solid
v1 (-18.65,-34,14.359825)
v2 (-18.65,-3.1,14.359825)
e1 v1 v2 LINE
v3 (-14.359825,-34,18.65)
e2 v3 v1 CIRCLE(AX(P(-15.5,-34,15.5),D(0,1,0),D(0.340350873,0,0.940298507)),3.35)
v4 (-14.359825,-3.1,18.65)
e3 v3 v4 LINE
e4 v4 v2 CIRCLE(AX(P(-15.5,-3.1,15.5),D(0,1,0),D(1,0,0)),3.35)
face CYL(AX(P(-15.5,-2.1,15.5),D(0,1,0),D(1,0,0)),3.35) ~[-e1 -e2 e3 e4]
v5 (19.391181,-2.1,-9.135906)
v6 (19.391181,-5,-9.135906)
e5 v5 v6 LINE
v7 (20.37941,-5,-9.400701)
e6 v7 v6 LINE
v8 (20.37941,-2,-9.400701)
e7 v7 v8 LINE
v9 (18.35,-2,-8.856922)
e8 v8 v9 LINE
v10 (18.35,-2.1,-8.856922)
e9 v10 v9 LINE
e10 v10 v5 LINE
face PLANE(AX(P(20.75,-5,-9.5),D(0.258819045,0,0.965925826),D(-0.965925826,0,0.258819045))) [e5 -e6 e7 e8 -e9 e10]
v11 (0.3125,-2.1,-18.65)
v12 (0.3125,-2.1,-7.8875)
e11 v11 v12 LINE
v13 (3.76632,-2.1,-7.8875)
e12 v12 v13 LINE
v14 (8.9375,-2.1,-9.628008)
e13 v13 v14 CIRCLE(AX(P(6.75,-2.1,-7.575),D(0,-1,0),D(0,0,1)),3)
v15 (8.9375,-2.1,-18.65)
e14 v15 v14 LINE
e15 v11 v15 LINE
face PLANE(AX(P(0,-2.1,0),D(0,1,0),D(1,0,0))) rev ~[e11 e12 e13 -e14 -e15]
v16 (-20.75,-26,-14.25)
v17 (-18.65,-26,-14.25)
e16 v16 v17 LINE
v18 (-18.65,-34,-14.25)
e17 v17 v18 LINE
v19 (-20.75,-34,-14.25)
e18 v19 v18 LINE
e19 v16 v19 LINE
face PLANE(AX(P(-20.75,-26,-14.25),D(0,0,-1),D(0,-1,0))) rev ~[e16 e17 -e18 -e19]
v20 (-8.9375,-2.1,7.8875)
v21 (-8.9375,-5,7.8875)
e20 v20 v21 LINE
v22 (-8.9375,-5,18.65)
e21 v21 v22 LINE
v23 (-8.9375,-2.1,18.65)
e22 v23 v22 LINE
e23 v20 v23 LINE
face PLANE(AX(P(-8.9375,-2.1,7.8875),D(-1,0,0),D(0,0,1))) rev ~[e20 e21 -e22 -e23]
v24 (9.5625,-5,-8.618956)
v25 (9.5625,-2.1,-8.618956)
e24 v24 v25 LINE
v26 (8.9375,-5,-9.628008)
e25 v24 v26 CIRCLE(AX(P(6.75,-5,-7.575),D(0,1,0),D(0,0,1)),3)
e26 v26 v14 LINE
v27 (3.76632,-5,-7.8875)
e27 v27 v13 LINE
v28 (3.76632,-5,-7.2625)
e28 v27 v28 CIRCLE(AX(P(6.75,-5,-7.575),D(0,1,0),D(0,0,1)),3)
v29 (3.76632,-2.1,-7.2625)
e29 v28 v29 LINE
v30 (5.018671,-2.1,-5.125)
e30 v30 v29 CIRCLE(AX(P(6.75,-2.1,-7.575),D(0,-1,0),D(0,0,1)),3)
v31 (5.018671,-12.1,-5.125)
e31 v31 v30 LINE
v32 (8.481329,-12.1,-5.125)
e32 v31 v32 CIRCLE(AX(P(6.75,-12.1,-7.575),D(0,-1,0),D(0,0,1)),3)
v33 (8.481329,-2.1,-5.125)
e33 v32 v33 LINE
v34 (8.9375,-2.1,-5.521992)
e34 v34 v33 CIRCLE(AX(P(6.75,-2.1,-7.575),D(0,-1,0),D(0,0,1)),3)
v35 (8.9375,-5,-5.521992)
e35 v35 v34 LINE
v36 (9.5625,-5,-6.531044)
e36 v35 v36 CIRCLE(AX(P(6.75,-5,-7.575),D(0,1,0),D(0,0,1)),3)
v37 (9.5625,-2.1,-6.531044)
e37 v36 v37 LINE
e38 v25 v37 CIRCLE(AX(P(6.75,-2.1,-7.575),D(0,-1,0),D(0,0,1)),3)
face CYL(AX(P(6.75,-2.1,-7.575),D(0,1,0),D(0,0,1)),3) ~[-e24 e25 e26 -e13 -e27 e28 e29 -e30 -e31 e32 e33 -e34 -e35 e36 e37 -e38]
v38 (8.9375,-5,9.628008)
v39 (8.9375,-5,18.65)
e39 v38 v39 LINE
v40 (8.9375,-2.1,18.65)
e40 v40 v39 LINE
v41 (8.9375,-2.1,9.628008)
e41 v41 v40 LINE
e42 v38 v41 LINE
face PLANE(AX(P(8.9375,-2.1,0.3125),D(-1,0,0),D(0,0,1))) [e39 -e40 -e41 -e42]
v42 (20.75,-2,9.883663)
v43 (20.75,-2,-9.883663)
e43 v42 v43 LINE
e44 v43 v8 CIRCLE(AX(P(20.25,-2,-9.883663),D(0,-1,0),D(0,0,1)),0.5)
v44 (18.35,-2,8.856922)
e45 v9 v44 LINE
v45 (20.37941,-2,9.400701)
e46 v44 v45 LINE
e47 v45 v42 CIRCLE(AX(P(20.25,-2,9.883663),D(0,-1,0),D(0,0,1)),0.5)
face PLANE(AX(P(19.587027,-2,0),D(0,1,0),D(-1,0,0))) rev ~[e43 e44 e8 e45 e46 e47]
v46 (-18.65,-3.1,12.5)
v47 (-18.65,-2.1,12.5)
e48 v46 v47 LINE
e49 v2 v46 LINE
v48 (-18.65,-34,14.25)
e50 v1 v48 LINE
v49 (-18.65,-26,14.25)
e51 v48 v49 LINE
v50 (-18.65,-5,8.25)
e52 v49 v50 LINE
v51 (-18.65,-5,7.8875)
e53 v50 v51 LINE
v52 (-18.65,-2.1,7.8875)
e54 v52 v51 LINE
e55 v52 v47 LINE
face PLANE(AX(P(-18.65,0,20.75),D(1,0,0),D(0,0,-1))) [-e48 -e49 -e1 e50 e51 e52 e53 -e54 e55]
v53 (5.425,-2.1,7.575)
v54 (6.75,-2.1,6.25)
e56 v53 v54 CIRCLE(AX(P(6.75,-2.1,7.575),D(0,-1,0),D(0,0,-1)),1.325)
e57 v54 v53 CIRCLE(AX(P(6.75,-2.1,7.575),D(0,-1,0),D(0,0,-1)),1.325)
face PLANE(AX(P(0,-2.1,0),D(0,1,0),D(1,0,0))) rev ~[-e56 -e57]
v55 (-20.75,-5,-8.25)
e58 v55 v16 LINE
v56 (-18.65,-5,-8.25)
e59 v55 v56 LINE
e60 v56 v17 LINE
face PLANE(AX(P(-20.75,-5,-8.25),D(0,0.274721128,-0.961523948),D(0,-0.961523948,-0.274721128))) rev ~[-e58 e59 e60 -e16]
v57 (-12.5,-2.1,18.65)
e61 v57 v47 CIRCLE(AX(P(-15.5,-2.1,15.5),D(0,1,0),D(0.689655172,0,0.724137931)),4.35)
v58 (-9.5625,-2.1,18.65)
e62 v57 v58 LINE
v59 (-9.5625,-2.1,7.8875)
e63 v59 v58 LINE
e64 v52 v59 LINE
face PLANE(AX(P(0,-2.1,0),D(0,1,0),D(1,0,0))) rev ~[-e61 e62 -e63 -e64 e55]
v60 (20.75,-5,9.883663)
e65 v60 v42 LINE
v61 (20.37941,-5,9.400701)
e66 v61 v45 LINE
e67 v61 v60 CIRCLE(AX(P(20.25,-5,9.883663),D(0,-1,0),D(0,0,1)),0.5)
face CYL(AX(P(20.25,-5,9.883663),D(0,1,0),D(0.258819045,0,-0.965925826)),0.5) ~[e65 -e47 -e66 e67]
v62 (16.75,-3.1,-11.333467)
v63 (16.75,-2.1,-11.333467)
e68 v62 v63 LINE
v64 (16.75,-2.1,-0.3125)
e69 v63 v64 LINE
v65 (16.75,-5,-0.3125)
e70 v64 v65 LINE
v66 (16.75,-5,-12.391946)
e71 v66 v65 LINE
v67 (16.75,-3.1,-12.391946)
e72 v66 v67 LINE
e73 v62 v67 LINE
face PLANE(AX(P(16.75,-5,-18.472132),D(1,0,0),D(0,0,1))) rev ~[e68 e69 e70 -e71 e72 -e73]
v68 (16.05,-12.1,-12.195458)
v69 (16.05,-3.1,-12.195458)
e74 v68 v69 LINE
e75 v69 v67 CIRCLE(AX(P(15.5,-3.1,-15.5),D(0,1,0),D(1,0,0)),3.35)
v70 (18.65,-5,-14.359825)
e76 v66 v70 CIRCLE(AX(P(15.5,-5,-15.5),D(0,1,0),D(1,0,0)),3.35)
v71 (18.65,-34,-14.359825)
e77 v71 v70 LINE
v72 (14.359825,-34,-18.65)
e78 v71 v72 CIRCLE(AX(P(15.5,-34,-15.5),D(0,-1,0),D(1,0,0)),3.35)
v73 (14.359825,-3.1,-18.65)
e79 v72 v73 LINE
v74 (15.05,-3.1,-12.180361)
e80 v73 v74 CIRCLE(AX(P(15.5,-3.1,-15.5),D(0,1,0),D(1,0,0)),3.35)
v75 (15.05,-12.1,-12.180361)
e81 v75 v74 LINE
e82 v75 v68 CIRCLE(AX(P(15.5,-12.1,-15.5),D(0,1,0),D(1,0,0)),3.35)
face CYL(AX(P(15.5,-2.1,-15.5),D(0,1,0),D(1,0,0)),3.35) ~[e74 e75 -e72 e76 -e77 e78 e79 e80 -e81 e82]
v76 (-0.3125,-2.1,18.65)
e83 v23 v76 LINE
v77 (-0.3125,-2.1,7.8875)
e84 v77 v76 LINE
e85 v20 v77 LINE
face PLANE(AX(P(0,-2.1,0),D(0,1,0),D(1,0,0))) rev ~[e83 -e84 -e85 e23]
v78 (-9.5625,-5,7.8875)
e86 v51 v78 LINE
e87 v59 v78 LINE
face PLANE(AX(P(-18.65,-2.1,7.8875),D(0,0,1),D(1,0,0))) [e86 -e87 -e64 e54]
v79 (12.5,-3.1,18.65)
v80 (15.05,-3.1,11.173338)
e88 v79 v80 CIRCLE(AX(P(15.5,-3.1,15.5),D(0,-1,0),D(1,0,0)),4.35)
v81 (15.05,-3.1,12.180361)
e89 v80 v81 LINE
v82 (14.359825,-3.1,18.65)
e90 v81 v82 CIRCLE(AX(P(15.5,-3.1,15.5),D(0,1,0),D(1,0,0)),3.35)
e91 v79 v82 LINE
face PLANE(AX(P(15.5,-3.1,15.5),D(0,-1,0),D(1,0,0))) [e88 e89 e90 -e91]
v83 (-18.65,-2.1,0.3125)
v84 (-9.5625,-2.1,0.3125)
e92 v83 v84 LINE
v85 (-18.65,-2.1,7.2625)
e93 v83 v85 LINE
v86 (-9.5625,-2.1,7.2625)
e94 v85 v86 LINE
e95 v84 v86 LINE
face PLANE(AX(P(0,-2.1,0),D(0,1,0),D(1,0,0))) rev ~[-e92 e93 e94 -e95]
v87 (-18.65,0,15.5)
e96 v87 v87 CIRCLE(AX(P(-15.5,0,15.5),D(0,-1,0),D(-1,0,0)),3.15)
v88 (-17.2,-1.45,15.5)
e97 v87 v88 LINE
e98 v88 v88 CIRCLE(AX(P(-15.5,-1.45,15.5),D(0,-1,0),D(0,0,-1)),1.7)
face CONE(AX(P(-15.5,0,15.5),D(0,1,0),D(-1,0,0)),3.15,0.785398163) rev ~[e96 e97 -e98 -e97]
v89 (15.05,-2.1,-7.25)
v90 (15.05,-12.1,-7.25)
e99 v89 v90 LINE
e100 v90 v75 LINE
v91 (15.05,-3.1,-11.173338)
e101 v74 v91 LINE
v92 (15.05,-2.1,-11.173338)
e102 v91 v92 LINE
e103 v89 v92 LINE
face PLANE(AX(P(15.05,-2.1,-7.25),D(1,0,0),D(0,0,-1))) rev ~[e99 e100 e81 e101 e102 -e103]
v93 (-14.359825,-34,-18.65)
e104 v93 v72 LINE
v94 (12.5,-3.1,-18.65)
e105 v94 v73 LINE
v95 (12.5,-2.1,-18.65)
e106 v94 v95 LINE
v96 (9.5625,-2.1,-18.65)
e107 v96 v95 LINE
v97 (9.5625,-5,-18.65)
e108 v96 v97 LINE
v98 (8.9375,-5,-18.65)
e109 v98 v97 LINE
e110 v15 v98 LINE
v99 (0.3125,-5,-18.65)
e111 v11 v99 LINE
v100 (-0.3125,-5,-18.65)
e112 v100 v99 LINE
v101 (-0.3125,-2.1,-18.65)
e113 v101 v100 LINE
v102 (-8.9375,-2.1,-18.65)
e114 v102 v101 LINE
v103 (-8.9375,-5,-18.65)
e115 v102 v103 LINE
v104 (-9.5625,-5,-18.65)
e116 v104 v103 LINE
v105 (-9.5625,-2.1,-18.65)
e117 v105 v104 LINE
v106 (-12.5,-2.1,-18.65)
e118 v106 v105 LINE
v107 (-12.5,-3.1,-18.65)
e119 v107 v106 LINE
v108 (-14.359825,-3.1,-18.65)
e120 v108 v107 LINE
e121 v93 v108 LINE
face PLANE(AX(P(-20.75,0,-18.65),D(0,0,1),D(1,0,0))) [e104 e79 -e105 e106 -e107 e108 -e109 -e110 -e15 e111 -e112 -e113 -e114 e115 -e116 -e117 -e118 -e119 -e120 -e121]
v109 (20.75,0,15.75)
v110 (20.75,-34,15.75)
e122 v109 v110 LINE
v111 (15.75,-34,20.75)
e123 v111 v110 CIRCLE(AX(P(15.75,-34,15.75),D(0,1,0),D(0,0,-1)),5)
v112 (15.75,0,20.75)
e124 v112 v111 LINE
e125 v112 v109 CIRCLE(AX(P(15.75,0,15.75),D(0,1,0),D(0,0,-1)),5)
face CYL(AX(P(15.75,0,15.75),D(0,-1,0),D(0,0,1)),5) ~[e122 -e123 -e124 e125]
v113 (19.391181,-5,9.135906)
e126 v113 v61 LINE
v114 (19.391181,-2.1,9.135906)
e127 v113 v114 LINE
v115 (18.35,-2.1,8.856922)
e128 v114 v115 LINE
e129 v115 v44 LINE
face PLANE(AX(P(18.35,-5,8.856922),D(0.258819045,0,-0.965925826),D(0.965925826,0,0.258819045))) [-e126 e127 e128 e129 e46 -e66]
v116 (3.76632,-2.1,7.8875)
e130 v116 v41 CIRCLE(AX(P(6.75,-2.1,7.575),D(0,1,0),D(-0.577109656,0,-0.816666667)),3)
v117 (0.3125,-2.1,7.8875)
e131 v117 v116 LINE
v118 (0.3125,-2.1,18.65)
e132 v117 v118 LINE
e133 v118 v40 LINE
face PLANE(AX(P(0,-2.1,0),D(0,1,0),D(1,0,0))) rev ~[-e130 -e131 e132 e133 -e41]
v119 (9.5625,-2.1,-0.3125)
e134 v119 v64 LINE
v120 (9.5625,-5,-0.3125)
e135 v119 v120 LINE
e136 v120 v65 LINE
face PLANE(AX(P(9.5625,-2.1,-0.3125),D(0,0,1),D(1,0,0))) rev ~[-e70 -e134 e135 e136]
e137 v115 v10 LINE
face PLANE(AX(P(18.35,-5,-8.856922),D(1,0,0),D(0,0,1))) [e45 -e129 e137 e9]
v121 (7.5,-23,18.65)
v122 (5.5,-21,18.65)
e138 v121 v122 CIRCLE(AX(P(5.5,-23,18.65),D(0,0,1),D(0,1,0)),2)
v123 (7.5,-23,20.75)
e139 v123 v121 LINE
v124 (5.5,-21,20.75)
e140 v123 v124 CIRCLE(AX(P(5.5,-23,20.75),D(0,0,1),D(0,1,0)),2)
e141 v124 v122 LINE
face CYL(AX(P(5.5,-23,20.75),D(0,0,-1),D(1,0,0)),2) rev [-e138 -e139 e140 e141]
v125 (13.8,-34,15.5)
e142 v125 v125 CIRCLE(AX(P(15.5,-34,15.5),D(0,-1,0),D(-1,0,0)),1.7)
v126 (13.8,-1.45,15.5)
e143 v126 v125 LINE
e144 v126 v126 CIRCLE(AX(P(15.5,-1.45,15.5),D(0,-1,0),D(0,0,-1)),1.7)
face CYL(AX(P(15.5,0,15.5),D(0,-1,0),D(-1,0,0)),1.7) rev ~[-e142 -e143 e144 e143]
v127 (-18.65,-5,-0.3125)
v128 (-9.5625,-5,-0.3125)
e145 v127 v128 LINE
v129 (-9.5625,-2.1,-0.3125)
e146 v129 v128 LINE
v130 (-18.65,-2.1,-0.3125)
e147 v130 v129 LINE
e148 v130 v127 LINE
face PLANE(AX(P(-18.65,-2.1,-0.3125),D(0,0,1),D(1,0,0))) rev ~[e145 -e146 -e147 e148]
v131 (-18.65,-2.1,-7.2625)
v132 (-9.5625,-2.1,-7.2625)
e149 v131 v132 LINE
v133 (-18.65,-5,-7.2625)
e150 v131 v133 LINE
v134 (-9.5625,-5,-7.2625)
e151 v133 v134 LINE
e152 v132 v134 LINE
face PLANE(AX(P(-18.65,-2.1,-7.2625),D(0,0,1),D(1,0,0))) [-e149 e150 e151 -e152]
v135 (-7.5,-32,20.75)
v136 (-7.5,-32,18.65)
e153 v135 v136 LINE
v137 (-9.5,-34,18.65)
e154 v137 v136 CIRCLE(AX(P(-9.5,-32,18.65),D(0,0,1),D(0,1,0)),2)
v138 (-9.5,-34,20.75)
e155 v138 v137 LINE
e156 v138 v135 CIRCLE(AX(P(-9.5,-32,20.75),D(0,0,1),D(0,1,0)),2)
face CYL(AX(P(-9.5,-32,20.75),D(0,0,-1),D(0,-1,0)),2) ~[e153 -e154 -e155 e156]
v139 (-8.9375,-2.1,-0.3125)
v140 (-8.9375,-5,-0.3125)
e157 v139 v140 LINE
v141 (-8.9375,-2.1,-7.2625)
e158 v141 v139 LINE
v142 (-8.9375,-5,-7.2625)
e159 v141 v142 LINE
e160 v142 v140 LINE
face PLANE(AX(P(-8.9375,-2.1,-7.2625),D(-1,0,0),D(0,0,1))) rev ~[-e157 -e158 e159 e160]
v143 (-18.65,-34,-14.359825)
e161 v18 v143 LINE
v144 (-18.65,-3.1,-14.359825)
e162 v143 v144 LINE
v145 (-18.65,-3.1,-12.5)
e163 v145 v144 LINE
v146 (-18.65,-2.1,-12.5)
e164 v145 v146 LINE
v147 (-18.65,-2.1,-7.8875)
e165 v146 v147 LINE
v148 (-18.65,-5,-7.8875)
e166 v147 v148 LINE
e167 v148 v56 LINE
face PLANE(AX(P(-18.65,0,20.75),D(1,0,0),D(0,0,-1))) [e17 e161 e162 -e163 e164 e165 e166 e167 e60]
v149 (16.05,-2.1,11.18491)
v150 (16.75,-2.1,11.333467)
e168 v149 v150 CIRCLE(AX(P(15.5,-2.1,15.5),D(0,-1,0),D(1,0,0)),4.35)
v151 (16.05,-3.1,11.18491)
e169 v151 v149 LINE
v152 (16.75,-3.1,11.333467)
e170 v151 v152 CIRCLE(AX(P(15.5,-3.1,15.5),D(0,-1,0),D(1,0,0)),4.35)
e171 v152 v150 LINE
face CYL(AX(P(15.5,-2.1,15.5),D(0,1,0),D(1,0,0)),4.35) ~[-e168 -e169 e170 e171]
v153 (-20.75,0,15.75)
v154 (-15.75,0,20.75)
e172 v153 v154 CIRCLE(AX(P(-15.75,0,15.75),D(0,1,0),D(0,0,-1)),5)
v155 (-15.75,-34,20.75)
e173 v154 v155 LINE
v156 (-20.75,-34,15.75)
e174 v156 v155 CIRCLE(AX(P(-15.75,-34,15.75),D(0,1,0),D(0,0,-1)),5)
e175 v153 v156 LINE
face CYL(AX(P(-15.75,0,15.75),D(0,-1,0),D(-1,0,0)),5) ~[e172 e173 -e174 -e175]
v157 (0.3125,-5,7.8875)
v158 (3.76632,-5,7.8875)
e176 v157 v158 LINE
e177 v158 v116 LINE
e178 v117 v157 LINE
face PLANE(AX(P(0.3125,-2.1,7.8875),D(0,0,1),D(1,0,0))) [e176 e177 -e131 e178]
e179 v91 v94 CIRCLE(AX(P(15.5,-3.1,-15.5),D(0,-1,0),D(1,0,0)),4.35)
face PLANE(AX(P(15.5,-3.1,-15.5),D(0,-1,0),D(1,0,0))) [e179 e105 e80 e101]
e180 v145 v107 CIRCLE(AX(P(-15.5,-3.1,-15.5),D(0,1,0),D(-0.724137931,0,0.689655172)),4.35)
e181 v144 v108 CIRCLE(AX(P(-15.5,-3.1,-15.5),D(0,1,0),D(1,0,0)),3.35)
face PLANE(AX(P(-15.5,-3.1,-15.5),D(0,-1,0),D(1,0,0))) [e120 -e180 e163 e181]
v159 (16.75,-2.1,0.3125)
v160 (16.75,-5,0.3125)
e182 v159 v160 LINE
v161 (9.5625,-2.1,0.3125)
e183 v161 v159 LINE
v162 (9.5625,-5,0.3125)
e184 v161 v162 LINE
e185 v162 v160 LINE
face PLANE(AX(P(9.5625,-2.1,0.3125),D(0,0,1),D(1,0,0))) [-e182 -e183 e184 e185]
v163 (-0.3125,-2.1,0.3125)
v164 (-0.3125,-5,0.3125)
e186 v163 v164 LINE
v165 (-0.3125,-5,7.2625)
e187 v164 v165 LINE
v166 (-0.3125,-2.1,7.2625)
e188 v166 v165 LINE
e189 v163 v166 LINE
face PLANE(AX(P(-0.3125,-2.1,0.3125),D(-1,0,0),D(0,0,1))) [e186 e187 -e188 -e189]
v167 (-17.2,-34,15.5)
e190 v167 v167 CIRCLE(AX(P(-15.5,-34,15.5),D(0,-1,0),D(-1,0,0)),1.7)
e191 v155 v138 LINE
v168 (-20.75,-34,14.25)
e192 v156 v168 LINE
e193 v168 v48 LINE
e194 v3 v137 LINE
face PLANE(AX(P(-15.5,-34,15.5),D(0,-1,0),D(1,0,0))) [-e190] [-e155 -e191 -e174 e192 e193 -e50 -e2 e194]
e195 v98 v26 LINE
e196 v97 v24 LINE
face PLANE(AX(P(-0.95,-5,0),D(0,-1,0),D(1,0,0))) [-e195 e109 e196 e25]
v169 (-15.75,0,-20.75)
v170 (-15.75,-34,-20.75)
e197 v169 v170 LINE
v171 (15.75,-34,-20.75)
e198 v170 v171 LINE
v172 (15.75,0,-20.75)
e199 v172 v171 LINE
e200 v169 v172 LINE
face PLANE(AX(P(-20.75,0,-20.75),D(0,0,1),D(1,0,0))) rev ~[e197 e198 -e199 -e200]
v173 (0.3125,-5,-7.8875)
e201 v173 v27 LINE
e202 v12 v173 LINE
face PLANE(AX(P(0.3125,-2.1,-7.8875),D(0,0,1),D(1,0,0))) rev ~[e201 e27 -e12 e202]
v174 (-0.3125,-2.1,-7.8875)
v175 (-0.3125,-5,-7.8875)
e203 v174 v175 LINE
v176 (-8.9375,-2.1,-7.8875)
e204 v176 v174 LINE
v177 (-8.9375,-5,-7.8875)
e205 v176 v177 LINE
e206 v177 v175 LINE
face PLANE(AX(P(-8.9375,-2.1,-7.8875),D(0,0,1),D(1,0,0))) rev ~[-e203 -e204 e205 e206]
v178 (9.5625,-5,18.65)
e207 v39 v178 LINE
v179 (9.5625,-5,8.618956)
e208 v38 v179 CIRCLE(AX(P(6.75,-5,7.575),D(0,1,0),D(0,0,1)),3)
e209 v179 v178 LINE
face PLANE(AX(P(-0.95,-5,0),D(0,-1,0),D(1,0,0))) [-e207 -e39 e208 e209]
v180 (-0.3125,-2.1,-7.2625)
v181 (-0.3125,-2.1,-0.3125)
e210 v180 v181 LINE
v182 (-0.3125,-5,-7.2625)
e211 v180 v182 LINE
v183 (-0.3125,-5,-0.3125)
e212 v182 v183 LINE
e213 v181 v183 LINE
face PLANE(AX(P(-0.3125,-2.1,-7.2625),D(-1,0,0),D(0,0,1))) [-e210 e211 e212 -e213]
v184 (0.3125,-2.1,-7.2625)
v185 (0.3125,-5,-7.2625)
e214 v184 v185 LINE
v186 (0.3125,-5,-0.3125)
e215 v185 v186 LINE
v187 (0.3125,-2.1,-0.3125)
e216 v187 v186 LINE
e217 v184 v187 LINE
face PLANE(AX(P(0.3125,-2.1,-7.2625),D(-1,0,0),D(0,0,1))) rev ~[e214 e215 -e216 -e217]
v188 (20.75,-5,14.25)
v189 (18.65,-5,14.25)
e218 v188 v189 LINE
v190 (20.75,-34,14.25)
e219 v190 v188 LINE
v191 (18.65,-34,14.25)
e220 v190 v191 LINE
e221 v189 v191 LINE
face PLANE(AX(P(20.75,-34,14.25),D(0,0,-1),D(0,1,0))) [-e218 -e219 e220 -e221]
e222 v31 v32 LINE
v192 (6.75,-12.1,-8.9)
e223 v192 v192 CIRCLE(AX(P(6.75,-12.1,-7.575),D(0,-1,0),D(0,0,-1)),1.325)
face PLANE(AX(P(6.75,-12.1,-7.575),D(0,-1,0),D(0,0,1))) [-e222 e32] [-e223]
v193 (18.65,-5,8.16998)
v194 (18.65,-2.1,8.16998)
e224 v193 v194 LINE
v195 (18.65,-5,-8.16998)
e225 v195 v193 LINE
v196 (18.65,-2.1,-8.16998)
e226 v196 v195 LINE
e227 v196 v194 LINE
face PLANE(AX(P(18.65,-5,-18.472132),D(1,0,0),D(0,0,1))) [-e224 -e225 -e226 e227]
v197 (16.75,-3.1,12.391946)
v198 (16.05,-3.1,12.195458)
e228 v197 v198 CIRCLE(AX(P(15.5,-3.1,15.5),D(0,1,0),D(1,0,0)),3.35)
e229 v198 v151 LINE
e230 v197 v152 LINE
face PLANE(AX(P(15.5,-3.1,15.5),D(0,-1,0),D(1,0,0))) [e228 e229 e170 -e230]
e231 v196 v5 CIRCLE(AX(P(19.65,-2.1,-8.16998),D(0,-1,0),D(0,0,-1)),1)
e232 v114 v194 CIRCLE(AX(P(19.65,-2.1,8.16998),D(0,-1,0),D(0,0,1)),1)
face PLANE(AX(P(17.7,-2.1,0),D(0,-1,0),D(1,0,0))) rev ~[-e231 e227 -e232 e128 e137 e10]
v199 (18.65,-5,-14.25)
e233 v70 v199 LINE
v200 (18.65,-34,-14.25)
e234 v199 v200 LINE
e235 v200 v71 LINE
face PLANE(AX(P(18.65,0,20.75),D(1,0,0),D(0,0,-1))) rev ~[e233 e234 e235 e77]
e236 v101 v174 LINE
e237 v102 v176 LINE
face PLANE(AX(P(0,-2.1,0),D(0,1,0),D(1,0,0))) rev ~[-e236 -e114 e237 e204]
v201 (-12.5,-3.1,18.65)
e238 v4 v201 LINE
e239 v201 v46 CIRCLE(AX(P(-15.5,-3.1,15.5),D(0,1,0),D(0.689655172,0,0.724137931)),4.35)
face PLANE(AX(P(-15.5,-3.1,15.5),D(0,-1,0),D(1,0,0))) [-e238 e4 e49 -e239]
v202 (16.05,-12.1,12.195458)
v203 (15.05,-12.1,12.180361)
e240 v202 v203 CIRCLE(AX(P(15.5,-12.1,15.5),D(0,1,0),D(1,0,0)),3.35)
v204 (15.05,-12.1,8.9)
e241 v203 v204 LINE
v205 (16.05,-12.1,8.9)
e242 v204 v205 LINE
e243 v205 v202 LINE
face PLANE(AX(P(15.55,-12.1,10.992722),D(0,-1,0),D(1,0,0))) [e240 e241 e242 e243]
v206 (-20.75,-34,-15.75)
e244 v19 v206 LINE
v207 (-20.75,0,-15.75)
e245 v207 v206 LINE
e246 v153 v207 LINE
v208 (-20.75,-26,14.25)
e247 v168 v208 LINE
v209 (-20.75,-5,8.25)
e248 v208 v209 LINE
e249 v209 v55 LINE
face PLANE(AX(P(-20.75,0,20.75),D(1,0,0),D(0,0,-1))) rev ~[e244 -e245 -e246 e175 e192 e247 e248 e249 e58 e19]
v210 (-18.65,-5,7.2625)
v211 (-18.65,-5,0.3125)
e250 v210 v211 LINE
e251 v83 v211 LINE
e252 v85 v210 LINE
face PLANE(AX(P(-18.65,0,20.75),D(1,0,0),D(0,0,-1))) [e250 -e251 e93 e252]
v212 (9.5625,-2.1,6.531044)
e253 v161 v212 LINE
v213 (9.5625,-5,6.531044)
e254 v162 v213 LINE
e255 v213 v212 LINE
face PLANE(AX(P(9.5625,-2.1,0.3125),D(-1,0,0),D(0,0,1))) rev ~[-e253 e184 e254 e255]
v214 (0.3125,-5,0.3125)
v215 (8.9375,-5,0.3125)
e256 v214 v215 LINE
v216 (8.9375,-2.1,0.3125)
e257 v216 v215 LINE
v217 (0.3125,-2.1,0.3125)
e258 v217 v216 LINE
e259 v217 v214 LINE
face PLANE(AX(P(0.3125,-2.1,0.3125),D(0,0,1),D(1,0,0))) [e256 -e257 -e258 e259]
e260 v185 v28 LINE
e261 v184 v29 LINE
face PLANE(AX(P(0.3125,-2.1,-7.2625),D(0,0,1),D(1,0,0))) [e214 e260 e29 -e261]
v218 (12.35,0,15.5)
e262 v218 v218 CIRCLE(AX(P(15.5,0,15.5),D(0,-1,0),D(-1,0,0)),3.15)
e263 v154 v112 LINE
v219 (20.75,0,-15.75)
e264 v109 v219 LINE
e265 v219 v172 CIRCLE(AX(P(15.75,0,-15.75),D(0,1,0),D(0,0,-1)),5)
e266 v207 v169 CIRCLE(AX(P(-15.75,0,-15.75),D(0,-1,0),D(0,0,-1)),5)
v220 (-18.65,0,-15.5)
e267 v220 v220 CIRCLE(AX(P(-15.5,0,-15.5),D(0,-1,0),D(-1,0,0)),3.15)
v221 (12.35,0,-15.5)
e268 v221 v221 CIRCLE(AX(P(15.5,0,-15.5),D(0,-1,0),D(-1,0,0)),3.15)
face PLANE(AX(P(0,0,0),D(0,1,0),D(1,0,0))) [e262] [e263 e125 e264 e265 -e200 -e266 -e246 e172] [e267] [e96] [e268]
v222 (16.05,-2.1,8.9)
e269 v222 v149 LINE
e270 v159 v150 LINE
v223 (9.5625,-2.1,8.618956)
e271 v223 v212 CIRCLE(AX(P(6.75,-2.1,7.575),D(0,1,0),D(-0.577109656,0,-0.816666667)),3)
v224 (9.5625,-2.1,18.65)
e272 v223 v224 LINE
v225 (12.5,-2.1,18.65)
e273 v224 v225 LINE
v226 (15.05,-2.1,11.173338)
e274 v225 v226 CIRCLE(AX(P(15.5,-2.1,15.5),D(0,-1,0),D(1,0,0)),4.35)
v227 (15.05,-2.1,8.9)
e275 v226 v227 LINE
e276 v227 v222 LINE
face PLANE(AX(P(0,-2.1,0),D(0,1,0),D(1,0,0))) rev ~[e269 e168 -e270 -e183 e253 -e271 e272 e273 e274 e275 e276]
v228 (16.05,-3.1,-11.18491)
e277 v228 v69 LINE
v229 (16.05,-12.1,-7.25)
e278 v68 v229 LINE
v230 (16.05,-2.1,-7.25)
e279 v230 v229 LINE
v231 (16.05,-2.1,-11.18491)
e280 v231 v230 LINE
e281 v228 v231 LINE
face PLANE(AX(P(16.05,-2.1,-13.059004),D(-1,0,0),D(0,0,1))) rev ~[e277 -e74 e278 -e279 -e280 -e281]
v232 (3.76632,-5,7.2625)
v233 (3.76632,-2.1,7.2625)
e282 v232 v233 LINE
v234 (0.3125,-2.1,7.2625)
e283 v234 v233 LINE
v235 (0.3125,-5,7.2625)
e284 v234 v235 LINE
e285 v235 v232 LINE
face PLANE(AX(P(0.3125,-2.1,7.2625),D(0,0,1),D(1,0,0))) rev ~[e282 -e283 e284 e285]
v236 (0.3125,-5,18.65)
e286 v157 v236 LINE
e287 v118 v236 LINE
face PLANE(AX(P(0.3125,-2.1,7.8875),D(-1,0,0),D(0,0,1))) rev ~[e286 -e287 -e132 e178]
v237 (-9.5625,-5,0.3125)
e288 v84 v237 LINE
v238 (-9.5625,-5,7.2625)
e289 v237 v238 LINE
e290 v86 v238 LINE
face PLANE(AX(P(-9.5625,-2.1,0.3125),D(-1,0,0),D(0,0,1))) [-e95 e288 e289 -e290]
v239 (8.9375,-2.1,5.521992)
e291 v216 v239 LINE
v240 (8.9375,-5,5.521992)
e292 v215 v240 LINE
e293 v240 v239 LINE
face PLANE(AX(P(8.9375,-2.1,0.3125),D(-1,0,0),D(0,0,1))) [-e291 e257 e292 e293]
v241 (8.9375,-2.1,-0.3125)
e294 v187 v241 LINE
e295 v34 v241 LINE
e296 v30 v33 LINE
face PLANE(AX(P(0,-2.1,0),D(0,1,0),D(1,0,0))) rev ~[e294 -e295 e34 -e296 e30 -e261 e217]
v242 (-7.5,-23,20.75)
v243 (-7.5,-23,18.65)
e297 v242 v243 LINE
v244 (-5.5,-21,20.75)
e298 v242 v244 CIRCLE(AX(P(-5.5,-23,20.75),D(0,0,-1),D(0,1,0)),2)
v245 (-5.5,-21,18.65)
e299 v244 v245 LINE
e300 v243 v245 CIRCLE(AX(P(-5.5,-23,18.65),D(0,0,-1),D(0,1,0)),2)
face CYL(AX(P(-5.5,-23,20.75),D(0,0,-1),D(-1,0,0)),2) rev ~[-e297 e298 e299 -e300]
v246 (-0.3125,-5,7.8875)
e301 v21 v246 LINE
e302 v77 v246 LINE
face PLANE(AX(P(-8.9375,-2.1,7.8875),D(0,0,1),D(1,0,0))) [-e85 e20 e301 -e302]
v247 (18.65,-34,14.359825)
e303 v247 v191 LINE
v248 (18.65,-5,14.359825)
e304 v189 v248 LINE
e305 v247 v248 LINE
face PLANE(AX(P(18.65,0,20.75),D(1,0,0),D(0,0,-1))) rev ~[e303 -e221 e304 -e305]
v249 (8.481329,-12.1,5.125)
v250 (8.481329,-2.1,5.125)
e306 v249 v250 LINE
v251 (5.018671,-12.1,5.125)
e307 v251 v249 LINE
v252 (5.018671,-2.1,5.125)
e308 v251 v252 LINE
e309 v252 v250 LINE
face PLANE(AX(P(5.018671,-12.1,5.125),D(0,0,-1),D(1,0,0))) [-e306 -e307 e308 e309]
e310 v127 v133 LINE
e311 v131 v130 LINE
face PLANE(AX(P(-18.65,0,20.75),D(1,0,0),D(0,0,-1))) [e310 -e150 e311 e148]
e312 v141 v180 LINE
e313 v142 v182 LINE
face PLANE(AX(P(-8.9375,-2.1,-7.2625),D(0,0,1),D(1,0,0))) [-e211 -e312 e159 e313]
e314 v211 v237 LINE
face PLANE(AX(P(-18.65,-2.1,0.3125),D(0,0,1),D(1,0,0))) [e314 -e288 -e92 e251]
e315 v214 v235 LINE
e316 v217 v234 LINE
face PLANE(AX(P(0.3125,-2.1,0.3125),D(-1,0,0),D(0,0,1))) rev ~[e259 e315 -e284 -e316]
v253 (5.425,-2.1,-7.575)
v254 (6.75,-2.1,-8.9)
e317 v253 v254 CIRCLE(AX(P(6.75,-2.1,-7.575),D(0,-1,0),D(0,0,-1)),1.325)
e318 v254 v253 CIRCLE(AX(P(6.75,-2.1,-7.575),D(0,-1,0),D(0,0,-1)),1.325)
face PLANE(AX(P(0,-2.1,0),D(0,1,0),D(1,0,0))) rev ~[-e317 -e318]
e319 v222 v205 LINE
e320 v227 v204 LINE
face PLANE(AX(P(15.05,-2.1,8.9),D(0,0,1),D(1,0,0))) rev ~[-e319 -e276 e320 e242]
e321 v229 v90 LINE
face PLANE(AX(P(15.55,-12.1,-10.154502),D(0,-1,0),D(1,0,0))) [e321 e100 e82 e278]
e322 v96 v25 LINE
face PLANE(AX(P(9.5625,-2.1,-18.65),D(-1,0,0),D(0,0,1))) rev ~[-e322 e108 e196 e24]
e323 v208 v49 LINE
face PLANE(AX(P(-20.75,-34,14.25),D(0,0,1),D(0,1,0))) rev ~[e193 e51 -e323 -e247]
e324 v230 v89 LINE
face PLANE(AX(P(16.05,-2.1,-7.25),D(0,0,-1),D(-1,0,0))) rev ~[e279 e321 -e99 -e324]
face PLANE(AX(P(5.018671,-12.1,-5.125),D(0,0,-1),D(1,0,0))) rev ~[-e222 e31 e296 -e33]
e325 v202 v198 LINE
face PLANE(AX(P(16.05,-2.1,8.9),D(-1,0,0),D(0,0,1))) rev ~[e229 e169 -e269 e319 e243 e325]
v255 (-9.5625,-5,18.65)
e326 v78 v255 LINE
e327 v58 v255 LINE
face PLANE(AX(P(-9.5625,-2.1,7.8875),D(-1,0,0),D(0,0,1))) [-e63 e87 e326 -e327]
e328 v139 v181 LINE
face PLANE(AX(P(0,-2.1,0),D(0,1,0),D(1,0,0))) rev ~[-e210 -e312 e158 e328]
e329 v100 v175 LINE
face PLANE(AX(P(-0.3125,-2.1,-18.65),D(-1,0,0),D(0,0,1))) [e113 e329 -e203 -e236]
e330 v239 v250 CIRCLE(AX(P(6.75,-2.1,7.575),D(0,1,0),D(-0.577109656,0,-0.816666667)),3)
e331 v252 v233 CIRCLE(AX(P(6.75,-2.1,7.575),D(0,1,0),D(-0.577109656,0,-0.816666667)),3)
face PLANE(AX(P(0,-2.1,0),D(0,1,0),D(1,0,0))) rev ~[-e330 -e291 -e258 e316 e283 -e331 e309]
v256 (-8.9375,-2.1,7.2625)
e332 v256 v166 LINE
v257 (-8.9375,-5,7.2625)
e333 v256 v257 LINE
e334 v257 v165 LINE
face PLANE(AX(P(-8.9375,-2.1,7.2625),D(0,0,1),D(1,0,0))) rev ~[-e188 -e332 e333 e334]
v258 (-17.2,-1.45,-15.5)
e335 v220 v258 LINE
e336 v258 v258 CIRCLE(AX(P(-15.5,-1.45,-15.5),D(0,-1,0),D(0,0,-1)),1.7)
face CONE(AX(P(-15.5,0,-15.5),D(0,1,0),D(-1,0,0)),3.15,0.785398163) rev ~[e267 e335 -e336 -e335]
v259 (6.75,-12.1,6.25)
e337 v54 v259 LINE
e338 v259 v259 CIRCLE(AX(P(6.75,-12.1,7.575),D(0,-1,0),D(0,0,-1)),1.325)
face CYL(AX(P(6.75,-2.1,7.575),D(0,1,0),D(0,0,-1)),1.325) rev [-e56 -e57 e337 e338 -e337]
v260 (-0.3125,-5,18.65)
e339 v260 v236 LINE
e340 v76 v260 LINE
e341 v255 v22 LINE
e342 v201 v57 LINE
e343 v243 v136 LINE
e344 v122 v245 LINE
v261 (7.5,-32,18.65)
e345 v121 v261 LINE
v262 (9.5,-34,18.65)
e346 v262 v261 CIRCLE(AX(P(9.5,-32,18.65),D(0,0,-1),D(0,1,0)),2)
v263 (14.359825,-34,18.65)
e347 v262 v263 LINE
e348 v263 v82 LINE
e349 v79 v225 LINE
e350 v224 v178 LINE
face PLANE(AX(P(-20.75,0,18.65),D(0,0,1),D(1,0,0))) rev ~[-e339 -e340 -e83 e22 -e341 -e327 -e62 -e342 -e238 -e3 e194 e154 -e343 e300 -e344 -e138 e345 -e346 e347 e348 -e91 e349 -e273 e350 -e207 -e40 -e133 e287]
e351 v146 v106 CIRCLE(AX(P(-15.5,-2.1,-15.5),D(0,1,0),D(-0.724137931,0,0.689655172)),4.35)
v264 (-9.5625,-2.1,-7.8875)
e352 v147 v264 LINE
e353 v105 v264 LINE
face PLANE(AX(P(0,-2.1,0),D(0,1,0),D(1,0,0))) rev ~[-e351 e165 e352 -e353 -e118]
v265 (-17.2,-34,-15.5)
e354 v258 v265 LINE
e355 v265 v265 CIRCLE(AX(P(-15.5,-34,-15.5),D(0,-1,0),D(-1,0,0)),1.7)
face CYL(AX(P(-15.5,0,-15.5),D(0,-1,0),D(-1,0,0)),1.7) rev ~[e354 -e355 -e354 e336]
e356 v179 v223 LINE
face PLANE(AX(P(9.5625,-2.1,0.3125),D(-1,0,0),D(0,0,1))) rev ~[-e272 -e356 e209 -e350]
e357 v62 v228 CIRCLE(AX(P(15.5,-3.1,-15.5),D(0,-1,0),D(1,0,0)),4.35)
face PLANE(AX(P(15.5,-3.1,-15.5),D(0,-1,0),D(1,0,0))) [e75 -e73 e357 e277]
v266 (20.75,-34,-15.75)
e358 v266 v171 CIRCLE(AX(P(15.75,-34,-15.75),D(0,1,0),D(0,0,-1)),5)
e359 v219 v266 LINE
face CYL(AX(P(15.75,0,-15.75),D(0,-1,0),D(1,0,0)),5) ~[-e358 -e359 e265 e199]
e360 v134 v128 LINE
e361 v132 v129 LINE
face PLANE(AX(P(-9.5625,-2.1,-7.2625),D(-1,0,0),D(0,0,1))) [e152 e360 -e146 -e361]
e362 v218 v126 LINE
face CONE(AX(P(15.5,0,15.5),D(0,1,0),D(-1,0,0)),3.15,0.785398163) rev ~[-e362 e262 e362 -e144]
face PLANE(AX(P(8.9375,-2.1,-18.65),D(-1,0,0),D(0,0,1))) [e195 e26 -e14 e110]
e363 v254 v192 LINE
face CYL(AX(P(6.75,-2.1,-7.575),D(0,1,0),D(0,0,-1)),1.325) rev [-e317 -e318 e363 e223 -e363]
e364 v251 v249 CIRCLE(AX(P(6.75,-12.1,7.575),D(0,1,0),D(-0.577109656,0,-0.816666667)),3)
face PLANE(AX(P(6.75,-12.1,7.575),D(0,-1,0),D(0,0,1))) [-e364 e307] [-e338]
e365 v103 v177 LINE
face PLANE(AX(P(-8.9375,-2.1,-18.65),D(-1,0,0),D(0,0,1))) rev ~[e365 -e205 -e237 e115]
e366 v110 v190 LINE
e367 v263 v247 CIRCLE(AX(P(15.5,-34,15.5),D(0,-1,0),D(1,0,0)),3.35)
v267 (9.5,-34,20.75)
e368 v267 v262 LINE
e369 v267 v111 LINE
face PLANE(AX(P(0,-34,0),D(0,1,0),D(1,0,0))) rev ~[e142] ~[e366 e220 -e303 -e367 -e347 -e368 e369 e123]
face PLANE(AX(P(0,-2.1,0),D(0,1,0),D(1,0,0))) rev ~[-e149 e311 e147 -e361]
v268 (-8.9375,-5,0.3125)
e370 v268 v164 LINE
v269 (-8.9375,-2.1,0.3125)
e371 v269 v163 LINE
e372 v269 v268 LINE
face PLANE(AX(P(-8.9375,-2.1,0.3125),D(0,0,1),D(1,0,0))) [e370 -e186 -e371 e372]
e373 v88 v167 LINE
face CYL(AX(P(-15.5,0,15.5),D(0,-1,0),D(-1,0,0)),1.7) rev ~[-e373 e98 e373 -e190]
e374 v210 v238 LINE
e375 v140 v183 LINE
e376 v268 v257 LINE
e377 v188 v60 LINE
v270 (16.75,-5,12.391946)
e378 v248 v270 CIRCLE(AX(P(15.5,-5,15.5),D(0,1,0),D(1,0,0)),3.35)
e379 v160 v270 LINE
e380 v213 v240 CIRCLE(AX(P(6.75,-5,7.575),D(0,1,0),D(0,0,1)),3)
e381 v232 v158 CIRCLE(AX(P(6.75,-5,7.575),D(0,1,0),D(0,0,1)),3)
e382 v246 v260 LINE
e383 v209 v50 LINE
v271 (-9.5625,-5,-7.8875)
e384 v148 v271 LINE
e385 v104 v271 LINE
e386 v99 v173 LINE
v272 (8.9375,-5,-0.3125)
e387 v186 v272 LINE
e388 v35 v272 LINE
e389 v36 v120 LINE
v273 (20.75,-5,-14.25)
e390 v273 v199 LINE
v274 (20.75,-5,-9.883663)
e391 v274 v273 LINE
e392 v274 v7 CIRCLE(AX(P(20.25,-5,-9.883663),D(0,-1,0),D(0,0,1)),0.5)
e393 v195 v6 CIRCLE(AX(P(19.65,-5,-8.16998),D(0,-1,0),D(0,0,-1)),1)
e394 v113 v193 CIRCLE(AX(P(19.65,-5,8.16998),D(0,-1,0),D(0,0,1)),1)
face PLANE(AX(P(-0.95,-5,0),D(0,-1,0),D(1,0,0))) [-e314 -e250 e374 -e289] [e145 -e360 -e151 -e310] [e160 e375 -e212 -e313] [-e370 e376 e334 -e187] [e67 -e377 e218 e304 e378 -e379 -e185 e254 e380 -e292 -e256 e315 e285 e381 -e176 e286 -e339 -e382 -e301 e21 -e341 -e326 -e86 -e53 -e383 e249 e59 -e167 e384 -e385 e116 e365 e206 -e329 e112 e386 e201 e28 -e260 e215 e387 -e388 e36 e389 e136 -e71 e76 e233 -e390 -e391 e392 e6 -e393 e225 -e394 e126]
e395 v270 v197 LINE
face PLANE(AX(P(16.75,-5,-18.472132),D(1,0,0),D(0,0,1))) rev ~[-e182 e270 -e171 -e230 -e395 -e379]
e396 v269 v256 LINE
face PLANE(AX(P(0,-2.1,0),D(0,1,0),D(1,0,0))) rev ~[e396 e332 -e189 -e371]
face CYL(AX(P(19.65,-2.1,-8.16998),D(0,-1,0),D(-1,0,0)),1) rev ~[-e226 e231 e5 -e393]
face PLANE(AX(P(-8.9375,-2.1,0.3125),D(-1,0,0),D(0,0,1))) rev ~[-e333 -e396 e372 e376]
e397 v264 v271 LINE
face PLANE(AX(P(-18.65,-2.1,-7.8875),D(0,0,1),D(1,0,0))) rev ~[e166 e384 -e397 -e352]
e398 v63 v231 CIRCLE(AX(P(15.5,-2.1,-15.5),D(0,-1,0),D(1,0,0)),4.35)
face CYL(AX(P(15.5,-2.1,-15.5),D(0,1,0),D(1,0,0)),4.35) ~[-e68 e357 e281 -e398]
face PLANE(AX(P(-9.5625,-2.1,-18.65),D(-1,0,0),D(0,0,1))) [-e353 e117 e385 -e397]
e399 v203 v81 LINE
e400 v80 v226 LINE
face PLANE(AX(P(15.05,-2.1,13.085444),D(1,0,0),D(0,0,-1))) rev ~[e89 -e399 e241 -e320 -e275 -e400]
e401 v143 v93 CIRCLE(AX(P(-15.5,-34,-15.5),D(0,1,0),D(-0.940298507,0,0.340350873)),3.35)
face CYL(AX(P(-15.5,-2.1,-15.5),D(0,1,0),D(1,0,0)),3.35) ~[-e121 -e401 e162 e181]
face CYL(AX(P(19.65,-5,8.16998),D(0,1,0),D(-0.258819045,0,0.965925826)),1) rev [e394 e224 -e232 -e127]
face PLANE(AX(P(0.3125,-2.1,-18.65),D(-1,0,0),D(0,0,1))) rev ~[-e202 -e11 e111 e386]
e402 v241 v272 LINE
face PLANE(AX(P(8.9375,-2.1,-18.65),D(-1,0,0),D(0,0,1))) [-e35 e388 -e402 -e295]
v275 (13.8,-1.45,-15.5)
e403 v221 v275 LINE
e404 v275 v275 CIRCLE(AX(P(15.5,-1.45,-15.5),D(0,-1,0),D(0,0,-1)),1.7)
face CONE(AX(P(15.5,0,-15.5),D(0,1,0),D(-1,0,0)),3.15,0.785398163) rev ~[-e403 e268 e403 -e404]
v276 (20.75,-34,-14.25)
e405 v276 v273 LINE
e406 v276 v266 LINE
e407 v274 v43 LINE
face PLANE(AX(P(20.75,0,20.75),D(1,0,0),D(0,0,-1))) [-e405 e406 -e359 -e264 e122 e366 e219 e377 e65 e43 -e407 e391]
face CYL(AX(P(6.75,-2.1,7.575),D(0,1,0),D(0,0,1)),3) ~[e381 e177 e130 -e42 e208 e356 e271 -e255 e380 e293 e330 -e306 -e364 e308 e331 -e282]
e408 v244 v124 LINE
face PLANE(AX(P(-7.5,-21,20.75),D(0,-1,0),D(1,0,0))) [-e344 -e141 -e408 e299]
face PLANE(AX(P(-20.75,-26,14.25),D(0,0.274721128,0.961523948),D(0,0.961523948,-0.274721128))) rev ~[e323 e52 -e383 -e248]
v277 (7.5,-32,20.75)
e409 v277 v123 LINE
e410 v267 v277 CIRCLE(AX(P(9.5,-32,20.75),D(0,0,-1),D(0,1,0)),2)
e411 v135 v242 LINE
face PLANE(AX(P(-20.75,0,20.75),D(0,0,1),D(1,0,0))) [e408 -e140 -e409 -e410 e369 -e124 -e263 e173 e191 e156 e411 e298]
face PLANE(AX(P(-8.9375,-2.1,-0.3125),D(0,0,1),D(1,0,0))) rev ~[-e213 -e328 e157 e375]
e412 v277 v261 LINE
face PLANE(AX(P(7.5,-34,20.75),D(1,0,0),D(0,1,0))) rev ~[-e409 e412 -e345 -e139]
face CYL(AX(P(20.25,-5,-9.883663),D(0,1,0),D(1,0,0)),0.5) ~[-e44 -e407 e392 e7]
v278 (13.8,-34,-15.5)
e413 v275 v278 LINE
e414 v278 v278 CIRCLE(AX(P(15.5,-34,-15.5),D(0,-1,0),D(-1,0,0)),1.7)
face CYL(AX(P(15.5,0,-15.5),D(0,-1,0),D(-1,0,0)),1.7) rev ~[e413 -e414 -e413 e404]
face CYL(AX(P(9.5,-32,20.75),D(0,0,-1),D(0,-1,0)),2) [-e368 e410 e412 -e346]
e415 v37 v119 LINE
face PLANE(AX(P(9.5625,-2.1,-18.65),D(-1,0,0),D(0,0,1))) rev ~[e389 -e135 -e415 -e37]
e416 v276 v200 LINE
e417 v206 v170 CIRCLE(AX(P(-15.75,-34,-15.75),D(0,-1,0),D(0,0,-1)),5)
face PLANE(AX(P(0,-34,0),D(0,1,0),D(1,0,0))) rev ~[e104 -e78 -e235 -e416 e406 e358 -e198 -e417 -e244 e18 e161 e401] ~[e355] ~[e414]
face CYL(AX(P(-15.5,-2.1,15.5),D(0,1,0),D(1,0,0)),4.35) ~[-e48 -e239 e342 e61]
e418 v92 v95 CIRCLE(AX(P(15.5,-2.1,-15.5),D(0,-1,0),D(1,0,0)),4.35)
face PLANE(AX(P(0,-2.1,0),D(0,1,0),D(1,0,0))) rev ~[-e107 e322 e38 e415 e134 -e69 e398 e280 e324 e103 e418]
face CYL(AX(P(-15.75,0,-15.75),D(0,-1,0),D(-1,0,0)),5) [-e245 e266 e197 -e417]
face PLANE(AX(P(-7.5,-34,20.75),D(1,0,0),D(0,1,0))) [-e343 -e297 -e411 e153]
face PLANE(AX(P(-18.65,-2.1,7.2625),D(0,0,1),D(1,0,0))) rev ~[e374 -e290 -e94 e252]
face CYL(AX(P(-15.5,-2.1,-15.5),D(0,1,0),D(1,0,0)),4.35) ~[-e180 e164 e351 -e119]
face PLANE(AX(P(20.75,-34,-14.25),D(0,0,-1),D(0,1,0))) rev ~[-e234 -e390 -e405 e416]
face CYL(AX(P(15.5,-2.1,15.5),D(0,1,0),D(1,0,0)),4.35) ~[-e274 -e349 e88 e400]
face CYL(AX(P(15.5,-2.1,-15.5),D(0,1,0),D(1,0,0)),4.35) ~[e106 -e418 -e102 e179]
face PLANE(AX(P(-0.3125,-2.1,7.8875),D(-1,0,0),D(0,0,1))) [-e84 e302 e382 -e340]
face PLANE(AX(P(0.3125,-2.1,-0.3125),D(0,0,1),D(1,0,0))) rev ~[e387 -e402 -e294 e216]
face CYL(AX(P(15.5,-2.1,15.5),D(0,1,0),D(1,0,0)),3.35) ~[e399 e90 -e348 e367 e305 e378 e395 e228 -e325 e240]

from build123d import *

# Parameters (mm, degrees)
SKETCH1_W                                       = 41.5
SKETCH1_H                                       = 41.5
BOSS_EXTRUDE1_DEPTH                             = 34
FILLET1_R                                       = 5
SHELL1_T                                        = -2.1
CUT_EXTRUDE1_REACH                              = 59.522
SKETCH2_W                                       = 15
SKETCH2_H                                       = 13
FILLET2_R                                       = 2
CUT_EXTRUDE2_REACH                              = 59.522
CUT_EXTRUDE3_REACH                              = 59.522
SKETCH4_W                                       = 28.5
SKETCH4_H                                       = 29
CUT_EXTRUDE6_DEPTH                              = 3
SKETCH6_W                                       = 1.9
SKETCH6_H                                       = 36.944263036
BOSS_EXTRUDE2_DEPTH                             = 2.9
SKETCH7_R                                       = 3.35
BOSS_EXTRUDE3_DEPTH                             = 31.9
SKETCH11_R                                      = 4.35
BOSS_EXTRUDE5_DEPTH                             = 1
CSK_FOR_M3_FLAT_HEAD_MACHINE_SCREW1_D           = 3.4
CSK_FOR_M3_FLAT_HEAD_MACHINE_SCREW1_CSINK_D     = 6.3
CSK_FOR_M3_FLAT_HEAD_MACHINE_SCREW1_CSINK_ANGLE = 90
SKETCH10_R                                      = 3
SKETCH10_R_2                                    = 1.325
BOSS_EXTRUDE4_DEPTH                             = 10
SKETCH13_W                                      = 3.462657938
SKETCH13_H                                      = 10.25
CUT_EXTRUDE5_DEPTH                              = 10
SKETCH12_W                                      = 35.4
SKETCH12_H                                      = 0.625
SKETCH12_W_2                                    = 24.075
SKETCH12_W_3                                    = 0.625
SKETCH12_H_2                                    = 37.3
EXTRUDE_THIN4_DEPTH                             = 2.9
FILLET3_R                                       = 1
FILLET4_R                                       = 0.5
EXTRUDE_THIN5_DEPTH                             = 10


with BuildPart() as part:
    # Sketch1 → Boss-Extrude1 (new body)
    with BuildSketch(Plane(origin=(0, 0, 0), x_dir=(1, 0, 0), z_dir=(0, 1, 0))):
        Rectangle(SKETCH1_W, SKETCH1_H)
    extrude(amount=-BOSS_EXTRUDE1_DEPTH)

    # Fillet1
    fillet1_edges = [part.edges().sort_by_distance(p)[0] for p in [
        (20.75, -17, 20.75),
        (-20.75, -17, 20.75),
        (-20.75, -17, -20.75),
        (20.75, -17, -20.75),
    ]]
    fillet(fillet1_edges, radius=FILLET1_R)

    # Shell1
    shell1_openings = [part.faces().sort_by_distance(p)[0] for p in [
        (0, -34, 0),
    ]]
    offset(amount=SHELL1_T, openings=shell1_openings, kind=Kind.INTERSECTION)

    # Sketch2 → Cut-Extrude1 (cut, up to next)
    with BuildSketch(Plane.XY.offset(20.75), mode=Mode.PRIVATE) as cut_extrude1_sk1:
        with Locations((0, -27.5)):
            Rectangle(SKETCH2_W, SKETCH2_H)
    cut_extrude1_tool1 = extrude(cut_extrude1_sk1.sketch, amount=-CUT_EXTRUDE1_REACH, mode=Mode.PRIVATE) & part.part
    add(cut_extrude1_tool1.solids().sort_by_distance((0, -27.5, 20.75))[0], mode=Mode.SUBTRACT)

    # Fillet2
    fillet2_edges = [part.edges().sort_by_distance(p)[0] for p in [
        (-7.5, -34, 19.7),
        (-7.5, -21, 19.7),
        (7.5, -21, 19.7),
        (7.5, -34, 19.7),
    ]]
    fillet(fillet2_edges, radius=FILLET2_R)

    # Sketch3 → Cut-Extrude2 (cut, up to next)
    with BuildSketch(Plane.ZY.offset(20.75), mode=Mode.PRIVATE) as cut_extrude2_sk1:
        Polygon((8.25, -5), (-8.25, -5), (-14.25, -26), (-14.25, -34), (14.25, -34), (14.25, -26), align=None)
    cut_extrude2_tool1 = extrude(cut_extrude2_sk1.sketch, amount=-CUT_EXTRUDE2_REACH, mode=Mode.PRIVATE) & part.part
    add(cut_extrude2_tool1.solids().sort_by_distance((-20.75, -20.849036, 0))[0], mode=Mode.SUBTRACT)

    # Sketch4 → Cut-Extrude3 (cut, up to next)
    with BuildSketch(Plane(origin=(20.75, 0, 0), x_dir=(0, 0, -1), z_dir=(1, 0, 0)), mode=Mode.PRIVATE) as cut_extrude3_sk1:
        with Locations((0, -19.5)):
            Rectangle(SKETCH4_W, SKETCH4_H)
    cut_extrude3_tool1 = extrude(cut_extrude3_sk1.sketch, amount=-CUT_EXTRUDE3_REACH, mode=Mode.PRIVATE) & part.part
    add(cut_extrude3_tool1.solids().sort_by_distance((20.75, -19.5, 0))[0], mode=Mode.SUBTRACT)

    # Sketch14 → Cut-Extrude6 (cut)
    with BuildSketch(Plane.XZ.offset(5)):
        Polygon((20.75, 9.5), (20.75, -9.5), (18.35, -8.856921938), (18.35, 8.856921938), align=None)
    extrude(amount=-CUT_EXTRUDE6_DEPTH, mode=Mode.SUBTRACT)

    # Sketch6 → Boss-Extrude2 (add)
    with BuildSketch(Plane.XZ.offset(5)):
        with Locations((17.7, 0)):
            Rectangle(SKETCH6_W, SKETCH6_H)
    extrude(amount=-BOSS_EXTRUDE2_DEPTH)

    # Sketch7 → Boss-Extrude3 (add)
    with BuildSketch(Plane.XZ.offset(2.1)):
        with Locations((-15.5, 15.5)):
            Circle(SKETCH7_R)
        with Locations((15.5, 15.5)):
            Circle(SKETCH7_R)
        with Locations((-15.5, -15.5)):
            Circle(SKETCH7_R)
        with Locations((15.5, -15.5)):
            Circle(SKETCH7_R)
    extrude(amount=BOSS_EXTRUDE3_DEPTH)

    # Sketch11 → Boss-Extrude5 (add)
    with BuildSketch(Plane.XZ.offset(2.1)):
        with Locations((15.5, 15.5)):
            Circle(SKETCH11_R)
        with Locations((-15.5, 15.5)):
            Circle(SKETCH11_R)
        with Locations((-15.5, -15.5)):
            Circle(SKETCH11_R)
        with Locations((15.5, -15.5)):
            Circle(SKETCH11_R)
    extrude(amount=BOSS_EXTRUDE5_DEPTH)

    # CSK for M3 Flat Head Machine Screw1 (through all)
    with Locations(Plane(origin=(0, 0, 0), x_dir=(1, 0, 0), z_dir=(0, 1, 0))):
        with Locations((-15.5, -15.5), (-15.5, 15.5), (15.5, -15.5), (15.5, 15.5)):
            CounterSinkHole(CSK_FOR_M3_FLAT_HEAD_MACHINE_SCREW1_D / 2, CSK_FOR_M3_FLAT_HEAD_MACHINE_SCREW1_CSINK_D / 2, counter_sink_angle=CSK_FOR_M3_FLAT_HEAD_MACHINE_SCREW1_CSINK_ANGLE)

    # Sketch10 → Boss-Extrude4 (add)
    # profile 1 of 2: a face of its own
    with BuildSketch(Plane.XZ.offset(2.1)):
        with Locations(Location((6.75, 7.575, 0), (0, 0, 90))):
            Circle(SKETCH10_R)
        with Locations(Location((6.75, 7.575, 0), (0, 0, 270))):
            Circle(SKETCH10_R_2, mode=Mode.SUBTRACT)
    # profile 2 of 2: a face of its own
    with BuildSketch(Plane.XZ.offset(2.1)):
        with Locations(Location((6.75, -7.575, 0), (0, 0, 90))):
            Circle(SKETCH10_R)
        with Locations(Location((6.75, -7.575, 0), (0, 0, 270))):
            Circle(SKETCH10_R_2, mode=Mode.SUBTRACT)
    extrude(amount=BOSS_EXTRUDE4_DEPTH)

    # Sketch13 → Cut-Extrude5 (cut)
    with BuildSketch(Plane.XZ.offset(12.1)):
        with Locations((6.75, 0)):
            Rectangle(SKETCH13_W, SKETCH13_H)
    extrude(amount=-CUT_EXTRUDE5_DEPTH, mode=Mode.SUBTRACT)

    # Sketch12 → Extrude-Thin4 (add)
    with BuildSketch(Plane.XZ.offset(2.1)):
        with Locations((-0.95, 0)):
            Rectangle(SKETCH12_W, SKETCH12_H)
        with Locations((-6.6125, 7.575)):
            Rectangle(SKETCH12_W_2, SKETCH12_H)
        with Locations((-6.6125, -7.575)):
            Rectangle(SKETCH12_W_2, SKETCH12_H)
        Rectangle(SKETCH12_W_3, SKETCH12_H_2)
        with Locations((-9.25, 0)):
            Rectangle(SKETCH12_W_3, SKETCH12_H_2)
        with Locations((9.25, 0)):
            Rectangle(SKETCH12_W_3, SKETCH12_H_2)
    extrude(amount=EXTRUDE_THIN4_DEPTH)

    # Fillet3
    fillet3_edges = [part.edges().sort_by_distance(p)[0] for p in [
        (18.65, -3.55, 8.937306696),
        (18.65, -3.55, -8.937306696),
    ]]
    fillet(fillet3_edges, radius=FILLET3_R)

    # Fillet4
    fillet4_edges = [part.edges().sort_by_distance(p)[0] for p in [
        (20.75, -3.5, -9.5),
        (20.75, -3.5, 9.5),
    ]]
    fillet(fillet4_edges, radius=FILLET4_R)

    # Sketch15 → Extrude-Thin5 (add)
    with BuildSketch(Plane.XZ.offset(2.1)):
        Polygon((16.05, 8.9), (16.05, 12.195457672), (16.05, 13.085443669), (15.05, 13.085443669), (15.05, 12.195457672), (15.05, 8.9), align=None)
        Polygon((16.05, -13.05900413), (16.05, -12.195457672), (16.05, -7.25), (15.05, -7.25), (15.05, -12.195457672), (15.05, -13.05900413), align=None)
    extrude(amount=EXTRUDE_THIN5_DEPTH)


solid = part.part
